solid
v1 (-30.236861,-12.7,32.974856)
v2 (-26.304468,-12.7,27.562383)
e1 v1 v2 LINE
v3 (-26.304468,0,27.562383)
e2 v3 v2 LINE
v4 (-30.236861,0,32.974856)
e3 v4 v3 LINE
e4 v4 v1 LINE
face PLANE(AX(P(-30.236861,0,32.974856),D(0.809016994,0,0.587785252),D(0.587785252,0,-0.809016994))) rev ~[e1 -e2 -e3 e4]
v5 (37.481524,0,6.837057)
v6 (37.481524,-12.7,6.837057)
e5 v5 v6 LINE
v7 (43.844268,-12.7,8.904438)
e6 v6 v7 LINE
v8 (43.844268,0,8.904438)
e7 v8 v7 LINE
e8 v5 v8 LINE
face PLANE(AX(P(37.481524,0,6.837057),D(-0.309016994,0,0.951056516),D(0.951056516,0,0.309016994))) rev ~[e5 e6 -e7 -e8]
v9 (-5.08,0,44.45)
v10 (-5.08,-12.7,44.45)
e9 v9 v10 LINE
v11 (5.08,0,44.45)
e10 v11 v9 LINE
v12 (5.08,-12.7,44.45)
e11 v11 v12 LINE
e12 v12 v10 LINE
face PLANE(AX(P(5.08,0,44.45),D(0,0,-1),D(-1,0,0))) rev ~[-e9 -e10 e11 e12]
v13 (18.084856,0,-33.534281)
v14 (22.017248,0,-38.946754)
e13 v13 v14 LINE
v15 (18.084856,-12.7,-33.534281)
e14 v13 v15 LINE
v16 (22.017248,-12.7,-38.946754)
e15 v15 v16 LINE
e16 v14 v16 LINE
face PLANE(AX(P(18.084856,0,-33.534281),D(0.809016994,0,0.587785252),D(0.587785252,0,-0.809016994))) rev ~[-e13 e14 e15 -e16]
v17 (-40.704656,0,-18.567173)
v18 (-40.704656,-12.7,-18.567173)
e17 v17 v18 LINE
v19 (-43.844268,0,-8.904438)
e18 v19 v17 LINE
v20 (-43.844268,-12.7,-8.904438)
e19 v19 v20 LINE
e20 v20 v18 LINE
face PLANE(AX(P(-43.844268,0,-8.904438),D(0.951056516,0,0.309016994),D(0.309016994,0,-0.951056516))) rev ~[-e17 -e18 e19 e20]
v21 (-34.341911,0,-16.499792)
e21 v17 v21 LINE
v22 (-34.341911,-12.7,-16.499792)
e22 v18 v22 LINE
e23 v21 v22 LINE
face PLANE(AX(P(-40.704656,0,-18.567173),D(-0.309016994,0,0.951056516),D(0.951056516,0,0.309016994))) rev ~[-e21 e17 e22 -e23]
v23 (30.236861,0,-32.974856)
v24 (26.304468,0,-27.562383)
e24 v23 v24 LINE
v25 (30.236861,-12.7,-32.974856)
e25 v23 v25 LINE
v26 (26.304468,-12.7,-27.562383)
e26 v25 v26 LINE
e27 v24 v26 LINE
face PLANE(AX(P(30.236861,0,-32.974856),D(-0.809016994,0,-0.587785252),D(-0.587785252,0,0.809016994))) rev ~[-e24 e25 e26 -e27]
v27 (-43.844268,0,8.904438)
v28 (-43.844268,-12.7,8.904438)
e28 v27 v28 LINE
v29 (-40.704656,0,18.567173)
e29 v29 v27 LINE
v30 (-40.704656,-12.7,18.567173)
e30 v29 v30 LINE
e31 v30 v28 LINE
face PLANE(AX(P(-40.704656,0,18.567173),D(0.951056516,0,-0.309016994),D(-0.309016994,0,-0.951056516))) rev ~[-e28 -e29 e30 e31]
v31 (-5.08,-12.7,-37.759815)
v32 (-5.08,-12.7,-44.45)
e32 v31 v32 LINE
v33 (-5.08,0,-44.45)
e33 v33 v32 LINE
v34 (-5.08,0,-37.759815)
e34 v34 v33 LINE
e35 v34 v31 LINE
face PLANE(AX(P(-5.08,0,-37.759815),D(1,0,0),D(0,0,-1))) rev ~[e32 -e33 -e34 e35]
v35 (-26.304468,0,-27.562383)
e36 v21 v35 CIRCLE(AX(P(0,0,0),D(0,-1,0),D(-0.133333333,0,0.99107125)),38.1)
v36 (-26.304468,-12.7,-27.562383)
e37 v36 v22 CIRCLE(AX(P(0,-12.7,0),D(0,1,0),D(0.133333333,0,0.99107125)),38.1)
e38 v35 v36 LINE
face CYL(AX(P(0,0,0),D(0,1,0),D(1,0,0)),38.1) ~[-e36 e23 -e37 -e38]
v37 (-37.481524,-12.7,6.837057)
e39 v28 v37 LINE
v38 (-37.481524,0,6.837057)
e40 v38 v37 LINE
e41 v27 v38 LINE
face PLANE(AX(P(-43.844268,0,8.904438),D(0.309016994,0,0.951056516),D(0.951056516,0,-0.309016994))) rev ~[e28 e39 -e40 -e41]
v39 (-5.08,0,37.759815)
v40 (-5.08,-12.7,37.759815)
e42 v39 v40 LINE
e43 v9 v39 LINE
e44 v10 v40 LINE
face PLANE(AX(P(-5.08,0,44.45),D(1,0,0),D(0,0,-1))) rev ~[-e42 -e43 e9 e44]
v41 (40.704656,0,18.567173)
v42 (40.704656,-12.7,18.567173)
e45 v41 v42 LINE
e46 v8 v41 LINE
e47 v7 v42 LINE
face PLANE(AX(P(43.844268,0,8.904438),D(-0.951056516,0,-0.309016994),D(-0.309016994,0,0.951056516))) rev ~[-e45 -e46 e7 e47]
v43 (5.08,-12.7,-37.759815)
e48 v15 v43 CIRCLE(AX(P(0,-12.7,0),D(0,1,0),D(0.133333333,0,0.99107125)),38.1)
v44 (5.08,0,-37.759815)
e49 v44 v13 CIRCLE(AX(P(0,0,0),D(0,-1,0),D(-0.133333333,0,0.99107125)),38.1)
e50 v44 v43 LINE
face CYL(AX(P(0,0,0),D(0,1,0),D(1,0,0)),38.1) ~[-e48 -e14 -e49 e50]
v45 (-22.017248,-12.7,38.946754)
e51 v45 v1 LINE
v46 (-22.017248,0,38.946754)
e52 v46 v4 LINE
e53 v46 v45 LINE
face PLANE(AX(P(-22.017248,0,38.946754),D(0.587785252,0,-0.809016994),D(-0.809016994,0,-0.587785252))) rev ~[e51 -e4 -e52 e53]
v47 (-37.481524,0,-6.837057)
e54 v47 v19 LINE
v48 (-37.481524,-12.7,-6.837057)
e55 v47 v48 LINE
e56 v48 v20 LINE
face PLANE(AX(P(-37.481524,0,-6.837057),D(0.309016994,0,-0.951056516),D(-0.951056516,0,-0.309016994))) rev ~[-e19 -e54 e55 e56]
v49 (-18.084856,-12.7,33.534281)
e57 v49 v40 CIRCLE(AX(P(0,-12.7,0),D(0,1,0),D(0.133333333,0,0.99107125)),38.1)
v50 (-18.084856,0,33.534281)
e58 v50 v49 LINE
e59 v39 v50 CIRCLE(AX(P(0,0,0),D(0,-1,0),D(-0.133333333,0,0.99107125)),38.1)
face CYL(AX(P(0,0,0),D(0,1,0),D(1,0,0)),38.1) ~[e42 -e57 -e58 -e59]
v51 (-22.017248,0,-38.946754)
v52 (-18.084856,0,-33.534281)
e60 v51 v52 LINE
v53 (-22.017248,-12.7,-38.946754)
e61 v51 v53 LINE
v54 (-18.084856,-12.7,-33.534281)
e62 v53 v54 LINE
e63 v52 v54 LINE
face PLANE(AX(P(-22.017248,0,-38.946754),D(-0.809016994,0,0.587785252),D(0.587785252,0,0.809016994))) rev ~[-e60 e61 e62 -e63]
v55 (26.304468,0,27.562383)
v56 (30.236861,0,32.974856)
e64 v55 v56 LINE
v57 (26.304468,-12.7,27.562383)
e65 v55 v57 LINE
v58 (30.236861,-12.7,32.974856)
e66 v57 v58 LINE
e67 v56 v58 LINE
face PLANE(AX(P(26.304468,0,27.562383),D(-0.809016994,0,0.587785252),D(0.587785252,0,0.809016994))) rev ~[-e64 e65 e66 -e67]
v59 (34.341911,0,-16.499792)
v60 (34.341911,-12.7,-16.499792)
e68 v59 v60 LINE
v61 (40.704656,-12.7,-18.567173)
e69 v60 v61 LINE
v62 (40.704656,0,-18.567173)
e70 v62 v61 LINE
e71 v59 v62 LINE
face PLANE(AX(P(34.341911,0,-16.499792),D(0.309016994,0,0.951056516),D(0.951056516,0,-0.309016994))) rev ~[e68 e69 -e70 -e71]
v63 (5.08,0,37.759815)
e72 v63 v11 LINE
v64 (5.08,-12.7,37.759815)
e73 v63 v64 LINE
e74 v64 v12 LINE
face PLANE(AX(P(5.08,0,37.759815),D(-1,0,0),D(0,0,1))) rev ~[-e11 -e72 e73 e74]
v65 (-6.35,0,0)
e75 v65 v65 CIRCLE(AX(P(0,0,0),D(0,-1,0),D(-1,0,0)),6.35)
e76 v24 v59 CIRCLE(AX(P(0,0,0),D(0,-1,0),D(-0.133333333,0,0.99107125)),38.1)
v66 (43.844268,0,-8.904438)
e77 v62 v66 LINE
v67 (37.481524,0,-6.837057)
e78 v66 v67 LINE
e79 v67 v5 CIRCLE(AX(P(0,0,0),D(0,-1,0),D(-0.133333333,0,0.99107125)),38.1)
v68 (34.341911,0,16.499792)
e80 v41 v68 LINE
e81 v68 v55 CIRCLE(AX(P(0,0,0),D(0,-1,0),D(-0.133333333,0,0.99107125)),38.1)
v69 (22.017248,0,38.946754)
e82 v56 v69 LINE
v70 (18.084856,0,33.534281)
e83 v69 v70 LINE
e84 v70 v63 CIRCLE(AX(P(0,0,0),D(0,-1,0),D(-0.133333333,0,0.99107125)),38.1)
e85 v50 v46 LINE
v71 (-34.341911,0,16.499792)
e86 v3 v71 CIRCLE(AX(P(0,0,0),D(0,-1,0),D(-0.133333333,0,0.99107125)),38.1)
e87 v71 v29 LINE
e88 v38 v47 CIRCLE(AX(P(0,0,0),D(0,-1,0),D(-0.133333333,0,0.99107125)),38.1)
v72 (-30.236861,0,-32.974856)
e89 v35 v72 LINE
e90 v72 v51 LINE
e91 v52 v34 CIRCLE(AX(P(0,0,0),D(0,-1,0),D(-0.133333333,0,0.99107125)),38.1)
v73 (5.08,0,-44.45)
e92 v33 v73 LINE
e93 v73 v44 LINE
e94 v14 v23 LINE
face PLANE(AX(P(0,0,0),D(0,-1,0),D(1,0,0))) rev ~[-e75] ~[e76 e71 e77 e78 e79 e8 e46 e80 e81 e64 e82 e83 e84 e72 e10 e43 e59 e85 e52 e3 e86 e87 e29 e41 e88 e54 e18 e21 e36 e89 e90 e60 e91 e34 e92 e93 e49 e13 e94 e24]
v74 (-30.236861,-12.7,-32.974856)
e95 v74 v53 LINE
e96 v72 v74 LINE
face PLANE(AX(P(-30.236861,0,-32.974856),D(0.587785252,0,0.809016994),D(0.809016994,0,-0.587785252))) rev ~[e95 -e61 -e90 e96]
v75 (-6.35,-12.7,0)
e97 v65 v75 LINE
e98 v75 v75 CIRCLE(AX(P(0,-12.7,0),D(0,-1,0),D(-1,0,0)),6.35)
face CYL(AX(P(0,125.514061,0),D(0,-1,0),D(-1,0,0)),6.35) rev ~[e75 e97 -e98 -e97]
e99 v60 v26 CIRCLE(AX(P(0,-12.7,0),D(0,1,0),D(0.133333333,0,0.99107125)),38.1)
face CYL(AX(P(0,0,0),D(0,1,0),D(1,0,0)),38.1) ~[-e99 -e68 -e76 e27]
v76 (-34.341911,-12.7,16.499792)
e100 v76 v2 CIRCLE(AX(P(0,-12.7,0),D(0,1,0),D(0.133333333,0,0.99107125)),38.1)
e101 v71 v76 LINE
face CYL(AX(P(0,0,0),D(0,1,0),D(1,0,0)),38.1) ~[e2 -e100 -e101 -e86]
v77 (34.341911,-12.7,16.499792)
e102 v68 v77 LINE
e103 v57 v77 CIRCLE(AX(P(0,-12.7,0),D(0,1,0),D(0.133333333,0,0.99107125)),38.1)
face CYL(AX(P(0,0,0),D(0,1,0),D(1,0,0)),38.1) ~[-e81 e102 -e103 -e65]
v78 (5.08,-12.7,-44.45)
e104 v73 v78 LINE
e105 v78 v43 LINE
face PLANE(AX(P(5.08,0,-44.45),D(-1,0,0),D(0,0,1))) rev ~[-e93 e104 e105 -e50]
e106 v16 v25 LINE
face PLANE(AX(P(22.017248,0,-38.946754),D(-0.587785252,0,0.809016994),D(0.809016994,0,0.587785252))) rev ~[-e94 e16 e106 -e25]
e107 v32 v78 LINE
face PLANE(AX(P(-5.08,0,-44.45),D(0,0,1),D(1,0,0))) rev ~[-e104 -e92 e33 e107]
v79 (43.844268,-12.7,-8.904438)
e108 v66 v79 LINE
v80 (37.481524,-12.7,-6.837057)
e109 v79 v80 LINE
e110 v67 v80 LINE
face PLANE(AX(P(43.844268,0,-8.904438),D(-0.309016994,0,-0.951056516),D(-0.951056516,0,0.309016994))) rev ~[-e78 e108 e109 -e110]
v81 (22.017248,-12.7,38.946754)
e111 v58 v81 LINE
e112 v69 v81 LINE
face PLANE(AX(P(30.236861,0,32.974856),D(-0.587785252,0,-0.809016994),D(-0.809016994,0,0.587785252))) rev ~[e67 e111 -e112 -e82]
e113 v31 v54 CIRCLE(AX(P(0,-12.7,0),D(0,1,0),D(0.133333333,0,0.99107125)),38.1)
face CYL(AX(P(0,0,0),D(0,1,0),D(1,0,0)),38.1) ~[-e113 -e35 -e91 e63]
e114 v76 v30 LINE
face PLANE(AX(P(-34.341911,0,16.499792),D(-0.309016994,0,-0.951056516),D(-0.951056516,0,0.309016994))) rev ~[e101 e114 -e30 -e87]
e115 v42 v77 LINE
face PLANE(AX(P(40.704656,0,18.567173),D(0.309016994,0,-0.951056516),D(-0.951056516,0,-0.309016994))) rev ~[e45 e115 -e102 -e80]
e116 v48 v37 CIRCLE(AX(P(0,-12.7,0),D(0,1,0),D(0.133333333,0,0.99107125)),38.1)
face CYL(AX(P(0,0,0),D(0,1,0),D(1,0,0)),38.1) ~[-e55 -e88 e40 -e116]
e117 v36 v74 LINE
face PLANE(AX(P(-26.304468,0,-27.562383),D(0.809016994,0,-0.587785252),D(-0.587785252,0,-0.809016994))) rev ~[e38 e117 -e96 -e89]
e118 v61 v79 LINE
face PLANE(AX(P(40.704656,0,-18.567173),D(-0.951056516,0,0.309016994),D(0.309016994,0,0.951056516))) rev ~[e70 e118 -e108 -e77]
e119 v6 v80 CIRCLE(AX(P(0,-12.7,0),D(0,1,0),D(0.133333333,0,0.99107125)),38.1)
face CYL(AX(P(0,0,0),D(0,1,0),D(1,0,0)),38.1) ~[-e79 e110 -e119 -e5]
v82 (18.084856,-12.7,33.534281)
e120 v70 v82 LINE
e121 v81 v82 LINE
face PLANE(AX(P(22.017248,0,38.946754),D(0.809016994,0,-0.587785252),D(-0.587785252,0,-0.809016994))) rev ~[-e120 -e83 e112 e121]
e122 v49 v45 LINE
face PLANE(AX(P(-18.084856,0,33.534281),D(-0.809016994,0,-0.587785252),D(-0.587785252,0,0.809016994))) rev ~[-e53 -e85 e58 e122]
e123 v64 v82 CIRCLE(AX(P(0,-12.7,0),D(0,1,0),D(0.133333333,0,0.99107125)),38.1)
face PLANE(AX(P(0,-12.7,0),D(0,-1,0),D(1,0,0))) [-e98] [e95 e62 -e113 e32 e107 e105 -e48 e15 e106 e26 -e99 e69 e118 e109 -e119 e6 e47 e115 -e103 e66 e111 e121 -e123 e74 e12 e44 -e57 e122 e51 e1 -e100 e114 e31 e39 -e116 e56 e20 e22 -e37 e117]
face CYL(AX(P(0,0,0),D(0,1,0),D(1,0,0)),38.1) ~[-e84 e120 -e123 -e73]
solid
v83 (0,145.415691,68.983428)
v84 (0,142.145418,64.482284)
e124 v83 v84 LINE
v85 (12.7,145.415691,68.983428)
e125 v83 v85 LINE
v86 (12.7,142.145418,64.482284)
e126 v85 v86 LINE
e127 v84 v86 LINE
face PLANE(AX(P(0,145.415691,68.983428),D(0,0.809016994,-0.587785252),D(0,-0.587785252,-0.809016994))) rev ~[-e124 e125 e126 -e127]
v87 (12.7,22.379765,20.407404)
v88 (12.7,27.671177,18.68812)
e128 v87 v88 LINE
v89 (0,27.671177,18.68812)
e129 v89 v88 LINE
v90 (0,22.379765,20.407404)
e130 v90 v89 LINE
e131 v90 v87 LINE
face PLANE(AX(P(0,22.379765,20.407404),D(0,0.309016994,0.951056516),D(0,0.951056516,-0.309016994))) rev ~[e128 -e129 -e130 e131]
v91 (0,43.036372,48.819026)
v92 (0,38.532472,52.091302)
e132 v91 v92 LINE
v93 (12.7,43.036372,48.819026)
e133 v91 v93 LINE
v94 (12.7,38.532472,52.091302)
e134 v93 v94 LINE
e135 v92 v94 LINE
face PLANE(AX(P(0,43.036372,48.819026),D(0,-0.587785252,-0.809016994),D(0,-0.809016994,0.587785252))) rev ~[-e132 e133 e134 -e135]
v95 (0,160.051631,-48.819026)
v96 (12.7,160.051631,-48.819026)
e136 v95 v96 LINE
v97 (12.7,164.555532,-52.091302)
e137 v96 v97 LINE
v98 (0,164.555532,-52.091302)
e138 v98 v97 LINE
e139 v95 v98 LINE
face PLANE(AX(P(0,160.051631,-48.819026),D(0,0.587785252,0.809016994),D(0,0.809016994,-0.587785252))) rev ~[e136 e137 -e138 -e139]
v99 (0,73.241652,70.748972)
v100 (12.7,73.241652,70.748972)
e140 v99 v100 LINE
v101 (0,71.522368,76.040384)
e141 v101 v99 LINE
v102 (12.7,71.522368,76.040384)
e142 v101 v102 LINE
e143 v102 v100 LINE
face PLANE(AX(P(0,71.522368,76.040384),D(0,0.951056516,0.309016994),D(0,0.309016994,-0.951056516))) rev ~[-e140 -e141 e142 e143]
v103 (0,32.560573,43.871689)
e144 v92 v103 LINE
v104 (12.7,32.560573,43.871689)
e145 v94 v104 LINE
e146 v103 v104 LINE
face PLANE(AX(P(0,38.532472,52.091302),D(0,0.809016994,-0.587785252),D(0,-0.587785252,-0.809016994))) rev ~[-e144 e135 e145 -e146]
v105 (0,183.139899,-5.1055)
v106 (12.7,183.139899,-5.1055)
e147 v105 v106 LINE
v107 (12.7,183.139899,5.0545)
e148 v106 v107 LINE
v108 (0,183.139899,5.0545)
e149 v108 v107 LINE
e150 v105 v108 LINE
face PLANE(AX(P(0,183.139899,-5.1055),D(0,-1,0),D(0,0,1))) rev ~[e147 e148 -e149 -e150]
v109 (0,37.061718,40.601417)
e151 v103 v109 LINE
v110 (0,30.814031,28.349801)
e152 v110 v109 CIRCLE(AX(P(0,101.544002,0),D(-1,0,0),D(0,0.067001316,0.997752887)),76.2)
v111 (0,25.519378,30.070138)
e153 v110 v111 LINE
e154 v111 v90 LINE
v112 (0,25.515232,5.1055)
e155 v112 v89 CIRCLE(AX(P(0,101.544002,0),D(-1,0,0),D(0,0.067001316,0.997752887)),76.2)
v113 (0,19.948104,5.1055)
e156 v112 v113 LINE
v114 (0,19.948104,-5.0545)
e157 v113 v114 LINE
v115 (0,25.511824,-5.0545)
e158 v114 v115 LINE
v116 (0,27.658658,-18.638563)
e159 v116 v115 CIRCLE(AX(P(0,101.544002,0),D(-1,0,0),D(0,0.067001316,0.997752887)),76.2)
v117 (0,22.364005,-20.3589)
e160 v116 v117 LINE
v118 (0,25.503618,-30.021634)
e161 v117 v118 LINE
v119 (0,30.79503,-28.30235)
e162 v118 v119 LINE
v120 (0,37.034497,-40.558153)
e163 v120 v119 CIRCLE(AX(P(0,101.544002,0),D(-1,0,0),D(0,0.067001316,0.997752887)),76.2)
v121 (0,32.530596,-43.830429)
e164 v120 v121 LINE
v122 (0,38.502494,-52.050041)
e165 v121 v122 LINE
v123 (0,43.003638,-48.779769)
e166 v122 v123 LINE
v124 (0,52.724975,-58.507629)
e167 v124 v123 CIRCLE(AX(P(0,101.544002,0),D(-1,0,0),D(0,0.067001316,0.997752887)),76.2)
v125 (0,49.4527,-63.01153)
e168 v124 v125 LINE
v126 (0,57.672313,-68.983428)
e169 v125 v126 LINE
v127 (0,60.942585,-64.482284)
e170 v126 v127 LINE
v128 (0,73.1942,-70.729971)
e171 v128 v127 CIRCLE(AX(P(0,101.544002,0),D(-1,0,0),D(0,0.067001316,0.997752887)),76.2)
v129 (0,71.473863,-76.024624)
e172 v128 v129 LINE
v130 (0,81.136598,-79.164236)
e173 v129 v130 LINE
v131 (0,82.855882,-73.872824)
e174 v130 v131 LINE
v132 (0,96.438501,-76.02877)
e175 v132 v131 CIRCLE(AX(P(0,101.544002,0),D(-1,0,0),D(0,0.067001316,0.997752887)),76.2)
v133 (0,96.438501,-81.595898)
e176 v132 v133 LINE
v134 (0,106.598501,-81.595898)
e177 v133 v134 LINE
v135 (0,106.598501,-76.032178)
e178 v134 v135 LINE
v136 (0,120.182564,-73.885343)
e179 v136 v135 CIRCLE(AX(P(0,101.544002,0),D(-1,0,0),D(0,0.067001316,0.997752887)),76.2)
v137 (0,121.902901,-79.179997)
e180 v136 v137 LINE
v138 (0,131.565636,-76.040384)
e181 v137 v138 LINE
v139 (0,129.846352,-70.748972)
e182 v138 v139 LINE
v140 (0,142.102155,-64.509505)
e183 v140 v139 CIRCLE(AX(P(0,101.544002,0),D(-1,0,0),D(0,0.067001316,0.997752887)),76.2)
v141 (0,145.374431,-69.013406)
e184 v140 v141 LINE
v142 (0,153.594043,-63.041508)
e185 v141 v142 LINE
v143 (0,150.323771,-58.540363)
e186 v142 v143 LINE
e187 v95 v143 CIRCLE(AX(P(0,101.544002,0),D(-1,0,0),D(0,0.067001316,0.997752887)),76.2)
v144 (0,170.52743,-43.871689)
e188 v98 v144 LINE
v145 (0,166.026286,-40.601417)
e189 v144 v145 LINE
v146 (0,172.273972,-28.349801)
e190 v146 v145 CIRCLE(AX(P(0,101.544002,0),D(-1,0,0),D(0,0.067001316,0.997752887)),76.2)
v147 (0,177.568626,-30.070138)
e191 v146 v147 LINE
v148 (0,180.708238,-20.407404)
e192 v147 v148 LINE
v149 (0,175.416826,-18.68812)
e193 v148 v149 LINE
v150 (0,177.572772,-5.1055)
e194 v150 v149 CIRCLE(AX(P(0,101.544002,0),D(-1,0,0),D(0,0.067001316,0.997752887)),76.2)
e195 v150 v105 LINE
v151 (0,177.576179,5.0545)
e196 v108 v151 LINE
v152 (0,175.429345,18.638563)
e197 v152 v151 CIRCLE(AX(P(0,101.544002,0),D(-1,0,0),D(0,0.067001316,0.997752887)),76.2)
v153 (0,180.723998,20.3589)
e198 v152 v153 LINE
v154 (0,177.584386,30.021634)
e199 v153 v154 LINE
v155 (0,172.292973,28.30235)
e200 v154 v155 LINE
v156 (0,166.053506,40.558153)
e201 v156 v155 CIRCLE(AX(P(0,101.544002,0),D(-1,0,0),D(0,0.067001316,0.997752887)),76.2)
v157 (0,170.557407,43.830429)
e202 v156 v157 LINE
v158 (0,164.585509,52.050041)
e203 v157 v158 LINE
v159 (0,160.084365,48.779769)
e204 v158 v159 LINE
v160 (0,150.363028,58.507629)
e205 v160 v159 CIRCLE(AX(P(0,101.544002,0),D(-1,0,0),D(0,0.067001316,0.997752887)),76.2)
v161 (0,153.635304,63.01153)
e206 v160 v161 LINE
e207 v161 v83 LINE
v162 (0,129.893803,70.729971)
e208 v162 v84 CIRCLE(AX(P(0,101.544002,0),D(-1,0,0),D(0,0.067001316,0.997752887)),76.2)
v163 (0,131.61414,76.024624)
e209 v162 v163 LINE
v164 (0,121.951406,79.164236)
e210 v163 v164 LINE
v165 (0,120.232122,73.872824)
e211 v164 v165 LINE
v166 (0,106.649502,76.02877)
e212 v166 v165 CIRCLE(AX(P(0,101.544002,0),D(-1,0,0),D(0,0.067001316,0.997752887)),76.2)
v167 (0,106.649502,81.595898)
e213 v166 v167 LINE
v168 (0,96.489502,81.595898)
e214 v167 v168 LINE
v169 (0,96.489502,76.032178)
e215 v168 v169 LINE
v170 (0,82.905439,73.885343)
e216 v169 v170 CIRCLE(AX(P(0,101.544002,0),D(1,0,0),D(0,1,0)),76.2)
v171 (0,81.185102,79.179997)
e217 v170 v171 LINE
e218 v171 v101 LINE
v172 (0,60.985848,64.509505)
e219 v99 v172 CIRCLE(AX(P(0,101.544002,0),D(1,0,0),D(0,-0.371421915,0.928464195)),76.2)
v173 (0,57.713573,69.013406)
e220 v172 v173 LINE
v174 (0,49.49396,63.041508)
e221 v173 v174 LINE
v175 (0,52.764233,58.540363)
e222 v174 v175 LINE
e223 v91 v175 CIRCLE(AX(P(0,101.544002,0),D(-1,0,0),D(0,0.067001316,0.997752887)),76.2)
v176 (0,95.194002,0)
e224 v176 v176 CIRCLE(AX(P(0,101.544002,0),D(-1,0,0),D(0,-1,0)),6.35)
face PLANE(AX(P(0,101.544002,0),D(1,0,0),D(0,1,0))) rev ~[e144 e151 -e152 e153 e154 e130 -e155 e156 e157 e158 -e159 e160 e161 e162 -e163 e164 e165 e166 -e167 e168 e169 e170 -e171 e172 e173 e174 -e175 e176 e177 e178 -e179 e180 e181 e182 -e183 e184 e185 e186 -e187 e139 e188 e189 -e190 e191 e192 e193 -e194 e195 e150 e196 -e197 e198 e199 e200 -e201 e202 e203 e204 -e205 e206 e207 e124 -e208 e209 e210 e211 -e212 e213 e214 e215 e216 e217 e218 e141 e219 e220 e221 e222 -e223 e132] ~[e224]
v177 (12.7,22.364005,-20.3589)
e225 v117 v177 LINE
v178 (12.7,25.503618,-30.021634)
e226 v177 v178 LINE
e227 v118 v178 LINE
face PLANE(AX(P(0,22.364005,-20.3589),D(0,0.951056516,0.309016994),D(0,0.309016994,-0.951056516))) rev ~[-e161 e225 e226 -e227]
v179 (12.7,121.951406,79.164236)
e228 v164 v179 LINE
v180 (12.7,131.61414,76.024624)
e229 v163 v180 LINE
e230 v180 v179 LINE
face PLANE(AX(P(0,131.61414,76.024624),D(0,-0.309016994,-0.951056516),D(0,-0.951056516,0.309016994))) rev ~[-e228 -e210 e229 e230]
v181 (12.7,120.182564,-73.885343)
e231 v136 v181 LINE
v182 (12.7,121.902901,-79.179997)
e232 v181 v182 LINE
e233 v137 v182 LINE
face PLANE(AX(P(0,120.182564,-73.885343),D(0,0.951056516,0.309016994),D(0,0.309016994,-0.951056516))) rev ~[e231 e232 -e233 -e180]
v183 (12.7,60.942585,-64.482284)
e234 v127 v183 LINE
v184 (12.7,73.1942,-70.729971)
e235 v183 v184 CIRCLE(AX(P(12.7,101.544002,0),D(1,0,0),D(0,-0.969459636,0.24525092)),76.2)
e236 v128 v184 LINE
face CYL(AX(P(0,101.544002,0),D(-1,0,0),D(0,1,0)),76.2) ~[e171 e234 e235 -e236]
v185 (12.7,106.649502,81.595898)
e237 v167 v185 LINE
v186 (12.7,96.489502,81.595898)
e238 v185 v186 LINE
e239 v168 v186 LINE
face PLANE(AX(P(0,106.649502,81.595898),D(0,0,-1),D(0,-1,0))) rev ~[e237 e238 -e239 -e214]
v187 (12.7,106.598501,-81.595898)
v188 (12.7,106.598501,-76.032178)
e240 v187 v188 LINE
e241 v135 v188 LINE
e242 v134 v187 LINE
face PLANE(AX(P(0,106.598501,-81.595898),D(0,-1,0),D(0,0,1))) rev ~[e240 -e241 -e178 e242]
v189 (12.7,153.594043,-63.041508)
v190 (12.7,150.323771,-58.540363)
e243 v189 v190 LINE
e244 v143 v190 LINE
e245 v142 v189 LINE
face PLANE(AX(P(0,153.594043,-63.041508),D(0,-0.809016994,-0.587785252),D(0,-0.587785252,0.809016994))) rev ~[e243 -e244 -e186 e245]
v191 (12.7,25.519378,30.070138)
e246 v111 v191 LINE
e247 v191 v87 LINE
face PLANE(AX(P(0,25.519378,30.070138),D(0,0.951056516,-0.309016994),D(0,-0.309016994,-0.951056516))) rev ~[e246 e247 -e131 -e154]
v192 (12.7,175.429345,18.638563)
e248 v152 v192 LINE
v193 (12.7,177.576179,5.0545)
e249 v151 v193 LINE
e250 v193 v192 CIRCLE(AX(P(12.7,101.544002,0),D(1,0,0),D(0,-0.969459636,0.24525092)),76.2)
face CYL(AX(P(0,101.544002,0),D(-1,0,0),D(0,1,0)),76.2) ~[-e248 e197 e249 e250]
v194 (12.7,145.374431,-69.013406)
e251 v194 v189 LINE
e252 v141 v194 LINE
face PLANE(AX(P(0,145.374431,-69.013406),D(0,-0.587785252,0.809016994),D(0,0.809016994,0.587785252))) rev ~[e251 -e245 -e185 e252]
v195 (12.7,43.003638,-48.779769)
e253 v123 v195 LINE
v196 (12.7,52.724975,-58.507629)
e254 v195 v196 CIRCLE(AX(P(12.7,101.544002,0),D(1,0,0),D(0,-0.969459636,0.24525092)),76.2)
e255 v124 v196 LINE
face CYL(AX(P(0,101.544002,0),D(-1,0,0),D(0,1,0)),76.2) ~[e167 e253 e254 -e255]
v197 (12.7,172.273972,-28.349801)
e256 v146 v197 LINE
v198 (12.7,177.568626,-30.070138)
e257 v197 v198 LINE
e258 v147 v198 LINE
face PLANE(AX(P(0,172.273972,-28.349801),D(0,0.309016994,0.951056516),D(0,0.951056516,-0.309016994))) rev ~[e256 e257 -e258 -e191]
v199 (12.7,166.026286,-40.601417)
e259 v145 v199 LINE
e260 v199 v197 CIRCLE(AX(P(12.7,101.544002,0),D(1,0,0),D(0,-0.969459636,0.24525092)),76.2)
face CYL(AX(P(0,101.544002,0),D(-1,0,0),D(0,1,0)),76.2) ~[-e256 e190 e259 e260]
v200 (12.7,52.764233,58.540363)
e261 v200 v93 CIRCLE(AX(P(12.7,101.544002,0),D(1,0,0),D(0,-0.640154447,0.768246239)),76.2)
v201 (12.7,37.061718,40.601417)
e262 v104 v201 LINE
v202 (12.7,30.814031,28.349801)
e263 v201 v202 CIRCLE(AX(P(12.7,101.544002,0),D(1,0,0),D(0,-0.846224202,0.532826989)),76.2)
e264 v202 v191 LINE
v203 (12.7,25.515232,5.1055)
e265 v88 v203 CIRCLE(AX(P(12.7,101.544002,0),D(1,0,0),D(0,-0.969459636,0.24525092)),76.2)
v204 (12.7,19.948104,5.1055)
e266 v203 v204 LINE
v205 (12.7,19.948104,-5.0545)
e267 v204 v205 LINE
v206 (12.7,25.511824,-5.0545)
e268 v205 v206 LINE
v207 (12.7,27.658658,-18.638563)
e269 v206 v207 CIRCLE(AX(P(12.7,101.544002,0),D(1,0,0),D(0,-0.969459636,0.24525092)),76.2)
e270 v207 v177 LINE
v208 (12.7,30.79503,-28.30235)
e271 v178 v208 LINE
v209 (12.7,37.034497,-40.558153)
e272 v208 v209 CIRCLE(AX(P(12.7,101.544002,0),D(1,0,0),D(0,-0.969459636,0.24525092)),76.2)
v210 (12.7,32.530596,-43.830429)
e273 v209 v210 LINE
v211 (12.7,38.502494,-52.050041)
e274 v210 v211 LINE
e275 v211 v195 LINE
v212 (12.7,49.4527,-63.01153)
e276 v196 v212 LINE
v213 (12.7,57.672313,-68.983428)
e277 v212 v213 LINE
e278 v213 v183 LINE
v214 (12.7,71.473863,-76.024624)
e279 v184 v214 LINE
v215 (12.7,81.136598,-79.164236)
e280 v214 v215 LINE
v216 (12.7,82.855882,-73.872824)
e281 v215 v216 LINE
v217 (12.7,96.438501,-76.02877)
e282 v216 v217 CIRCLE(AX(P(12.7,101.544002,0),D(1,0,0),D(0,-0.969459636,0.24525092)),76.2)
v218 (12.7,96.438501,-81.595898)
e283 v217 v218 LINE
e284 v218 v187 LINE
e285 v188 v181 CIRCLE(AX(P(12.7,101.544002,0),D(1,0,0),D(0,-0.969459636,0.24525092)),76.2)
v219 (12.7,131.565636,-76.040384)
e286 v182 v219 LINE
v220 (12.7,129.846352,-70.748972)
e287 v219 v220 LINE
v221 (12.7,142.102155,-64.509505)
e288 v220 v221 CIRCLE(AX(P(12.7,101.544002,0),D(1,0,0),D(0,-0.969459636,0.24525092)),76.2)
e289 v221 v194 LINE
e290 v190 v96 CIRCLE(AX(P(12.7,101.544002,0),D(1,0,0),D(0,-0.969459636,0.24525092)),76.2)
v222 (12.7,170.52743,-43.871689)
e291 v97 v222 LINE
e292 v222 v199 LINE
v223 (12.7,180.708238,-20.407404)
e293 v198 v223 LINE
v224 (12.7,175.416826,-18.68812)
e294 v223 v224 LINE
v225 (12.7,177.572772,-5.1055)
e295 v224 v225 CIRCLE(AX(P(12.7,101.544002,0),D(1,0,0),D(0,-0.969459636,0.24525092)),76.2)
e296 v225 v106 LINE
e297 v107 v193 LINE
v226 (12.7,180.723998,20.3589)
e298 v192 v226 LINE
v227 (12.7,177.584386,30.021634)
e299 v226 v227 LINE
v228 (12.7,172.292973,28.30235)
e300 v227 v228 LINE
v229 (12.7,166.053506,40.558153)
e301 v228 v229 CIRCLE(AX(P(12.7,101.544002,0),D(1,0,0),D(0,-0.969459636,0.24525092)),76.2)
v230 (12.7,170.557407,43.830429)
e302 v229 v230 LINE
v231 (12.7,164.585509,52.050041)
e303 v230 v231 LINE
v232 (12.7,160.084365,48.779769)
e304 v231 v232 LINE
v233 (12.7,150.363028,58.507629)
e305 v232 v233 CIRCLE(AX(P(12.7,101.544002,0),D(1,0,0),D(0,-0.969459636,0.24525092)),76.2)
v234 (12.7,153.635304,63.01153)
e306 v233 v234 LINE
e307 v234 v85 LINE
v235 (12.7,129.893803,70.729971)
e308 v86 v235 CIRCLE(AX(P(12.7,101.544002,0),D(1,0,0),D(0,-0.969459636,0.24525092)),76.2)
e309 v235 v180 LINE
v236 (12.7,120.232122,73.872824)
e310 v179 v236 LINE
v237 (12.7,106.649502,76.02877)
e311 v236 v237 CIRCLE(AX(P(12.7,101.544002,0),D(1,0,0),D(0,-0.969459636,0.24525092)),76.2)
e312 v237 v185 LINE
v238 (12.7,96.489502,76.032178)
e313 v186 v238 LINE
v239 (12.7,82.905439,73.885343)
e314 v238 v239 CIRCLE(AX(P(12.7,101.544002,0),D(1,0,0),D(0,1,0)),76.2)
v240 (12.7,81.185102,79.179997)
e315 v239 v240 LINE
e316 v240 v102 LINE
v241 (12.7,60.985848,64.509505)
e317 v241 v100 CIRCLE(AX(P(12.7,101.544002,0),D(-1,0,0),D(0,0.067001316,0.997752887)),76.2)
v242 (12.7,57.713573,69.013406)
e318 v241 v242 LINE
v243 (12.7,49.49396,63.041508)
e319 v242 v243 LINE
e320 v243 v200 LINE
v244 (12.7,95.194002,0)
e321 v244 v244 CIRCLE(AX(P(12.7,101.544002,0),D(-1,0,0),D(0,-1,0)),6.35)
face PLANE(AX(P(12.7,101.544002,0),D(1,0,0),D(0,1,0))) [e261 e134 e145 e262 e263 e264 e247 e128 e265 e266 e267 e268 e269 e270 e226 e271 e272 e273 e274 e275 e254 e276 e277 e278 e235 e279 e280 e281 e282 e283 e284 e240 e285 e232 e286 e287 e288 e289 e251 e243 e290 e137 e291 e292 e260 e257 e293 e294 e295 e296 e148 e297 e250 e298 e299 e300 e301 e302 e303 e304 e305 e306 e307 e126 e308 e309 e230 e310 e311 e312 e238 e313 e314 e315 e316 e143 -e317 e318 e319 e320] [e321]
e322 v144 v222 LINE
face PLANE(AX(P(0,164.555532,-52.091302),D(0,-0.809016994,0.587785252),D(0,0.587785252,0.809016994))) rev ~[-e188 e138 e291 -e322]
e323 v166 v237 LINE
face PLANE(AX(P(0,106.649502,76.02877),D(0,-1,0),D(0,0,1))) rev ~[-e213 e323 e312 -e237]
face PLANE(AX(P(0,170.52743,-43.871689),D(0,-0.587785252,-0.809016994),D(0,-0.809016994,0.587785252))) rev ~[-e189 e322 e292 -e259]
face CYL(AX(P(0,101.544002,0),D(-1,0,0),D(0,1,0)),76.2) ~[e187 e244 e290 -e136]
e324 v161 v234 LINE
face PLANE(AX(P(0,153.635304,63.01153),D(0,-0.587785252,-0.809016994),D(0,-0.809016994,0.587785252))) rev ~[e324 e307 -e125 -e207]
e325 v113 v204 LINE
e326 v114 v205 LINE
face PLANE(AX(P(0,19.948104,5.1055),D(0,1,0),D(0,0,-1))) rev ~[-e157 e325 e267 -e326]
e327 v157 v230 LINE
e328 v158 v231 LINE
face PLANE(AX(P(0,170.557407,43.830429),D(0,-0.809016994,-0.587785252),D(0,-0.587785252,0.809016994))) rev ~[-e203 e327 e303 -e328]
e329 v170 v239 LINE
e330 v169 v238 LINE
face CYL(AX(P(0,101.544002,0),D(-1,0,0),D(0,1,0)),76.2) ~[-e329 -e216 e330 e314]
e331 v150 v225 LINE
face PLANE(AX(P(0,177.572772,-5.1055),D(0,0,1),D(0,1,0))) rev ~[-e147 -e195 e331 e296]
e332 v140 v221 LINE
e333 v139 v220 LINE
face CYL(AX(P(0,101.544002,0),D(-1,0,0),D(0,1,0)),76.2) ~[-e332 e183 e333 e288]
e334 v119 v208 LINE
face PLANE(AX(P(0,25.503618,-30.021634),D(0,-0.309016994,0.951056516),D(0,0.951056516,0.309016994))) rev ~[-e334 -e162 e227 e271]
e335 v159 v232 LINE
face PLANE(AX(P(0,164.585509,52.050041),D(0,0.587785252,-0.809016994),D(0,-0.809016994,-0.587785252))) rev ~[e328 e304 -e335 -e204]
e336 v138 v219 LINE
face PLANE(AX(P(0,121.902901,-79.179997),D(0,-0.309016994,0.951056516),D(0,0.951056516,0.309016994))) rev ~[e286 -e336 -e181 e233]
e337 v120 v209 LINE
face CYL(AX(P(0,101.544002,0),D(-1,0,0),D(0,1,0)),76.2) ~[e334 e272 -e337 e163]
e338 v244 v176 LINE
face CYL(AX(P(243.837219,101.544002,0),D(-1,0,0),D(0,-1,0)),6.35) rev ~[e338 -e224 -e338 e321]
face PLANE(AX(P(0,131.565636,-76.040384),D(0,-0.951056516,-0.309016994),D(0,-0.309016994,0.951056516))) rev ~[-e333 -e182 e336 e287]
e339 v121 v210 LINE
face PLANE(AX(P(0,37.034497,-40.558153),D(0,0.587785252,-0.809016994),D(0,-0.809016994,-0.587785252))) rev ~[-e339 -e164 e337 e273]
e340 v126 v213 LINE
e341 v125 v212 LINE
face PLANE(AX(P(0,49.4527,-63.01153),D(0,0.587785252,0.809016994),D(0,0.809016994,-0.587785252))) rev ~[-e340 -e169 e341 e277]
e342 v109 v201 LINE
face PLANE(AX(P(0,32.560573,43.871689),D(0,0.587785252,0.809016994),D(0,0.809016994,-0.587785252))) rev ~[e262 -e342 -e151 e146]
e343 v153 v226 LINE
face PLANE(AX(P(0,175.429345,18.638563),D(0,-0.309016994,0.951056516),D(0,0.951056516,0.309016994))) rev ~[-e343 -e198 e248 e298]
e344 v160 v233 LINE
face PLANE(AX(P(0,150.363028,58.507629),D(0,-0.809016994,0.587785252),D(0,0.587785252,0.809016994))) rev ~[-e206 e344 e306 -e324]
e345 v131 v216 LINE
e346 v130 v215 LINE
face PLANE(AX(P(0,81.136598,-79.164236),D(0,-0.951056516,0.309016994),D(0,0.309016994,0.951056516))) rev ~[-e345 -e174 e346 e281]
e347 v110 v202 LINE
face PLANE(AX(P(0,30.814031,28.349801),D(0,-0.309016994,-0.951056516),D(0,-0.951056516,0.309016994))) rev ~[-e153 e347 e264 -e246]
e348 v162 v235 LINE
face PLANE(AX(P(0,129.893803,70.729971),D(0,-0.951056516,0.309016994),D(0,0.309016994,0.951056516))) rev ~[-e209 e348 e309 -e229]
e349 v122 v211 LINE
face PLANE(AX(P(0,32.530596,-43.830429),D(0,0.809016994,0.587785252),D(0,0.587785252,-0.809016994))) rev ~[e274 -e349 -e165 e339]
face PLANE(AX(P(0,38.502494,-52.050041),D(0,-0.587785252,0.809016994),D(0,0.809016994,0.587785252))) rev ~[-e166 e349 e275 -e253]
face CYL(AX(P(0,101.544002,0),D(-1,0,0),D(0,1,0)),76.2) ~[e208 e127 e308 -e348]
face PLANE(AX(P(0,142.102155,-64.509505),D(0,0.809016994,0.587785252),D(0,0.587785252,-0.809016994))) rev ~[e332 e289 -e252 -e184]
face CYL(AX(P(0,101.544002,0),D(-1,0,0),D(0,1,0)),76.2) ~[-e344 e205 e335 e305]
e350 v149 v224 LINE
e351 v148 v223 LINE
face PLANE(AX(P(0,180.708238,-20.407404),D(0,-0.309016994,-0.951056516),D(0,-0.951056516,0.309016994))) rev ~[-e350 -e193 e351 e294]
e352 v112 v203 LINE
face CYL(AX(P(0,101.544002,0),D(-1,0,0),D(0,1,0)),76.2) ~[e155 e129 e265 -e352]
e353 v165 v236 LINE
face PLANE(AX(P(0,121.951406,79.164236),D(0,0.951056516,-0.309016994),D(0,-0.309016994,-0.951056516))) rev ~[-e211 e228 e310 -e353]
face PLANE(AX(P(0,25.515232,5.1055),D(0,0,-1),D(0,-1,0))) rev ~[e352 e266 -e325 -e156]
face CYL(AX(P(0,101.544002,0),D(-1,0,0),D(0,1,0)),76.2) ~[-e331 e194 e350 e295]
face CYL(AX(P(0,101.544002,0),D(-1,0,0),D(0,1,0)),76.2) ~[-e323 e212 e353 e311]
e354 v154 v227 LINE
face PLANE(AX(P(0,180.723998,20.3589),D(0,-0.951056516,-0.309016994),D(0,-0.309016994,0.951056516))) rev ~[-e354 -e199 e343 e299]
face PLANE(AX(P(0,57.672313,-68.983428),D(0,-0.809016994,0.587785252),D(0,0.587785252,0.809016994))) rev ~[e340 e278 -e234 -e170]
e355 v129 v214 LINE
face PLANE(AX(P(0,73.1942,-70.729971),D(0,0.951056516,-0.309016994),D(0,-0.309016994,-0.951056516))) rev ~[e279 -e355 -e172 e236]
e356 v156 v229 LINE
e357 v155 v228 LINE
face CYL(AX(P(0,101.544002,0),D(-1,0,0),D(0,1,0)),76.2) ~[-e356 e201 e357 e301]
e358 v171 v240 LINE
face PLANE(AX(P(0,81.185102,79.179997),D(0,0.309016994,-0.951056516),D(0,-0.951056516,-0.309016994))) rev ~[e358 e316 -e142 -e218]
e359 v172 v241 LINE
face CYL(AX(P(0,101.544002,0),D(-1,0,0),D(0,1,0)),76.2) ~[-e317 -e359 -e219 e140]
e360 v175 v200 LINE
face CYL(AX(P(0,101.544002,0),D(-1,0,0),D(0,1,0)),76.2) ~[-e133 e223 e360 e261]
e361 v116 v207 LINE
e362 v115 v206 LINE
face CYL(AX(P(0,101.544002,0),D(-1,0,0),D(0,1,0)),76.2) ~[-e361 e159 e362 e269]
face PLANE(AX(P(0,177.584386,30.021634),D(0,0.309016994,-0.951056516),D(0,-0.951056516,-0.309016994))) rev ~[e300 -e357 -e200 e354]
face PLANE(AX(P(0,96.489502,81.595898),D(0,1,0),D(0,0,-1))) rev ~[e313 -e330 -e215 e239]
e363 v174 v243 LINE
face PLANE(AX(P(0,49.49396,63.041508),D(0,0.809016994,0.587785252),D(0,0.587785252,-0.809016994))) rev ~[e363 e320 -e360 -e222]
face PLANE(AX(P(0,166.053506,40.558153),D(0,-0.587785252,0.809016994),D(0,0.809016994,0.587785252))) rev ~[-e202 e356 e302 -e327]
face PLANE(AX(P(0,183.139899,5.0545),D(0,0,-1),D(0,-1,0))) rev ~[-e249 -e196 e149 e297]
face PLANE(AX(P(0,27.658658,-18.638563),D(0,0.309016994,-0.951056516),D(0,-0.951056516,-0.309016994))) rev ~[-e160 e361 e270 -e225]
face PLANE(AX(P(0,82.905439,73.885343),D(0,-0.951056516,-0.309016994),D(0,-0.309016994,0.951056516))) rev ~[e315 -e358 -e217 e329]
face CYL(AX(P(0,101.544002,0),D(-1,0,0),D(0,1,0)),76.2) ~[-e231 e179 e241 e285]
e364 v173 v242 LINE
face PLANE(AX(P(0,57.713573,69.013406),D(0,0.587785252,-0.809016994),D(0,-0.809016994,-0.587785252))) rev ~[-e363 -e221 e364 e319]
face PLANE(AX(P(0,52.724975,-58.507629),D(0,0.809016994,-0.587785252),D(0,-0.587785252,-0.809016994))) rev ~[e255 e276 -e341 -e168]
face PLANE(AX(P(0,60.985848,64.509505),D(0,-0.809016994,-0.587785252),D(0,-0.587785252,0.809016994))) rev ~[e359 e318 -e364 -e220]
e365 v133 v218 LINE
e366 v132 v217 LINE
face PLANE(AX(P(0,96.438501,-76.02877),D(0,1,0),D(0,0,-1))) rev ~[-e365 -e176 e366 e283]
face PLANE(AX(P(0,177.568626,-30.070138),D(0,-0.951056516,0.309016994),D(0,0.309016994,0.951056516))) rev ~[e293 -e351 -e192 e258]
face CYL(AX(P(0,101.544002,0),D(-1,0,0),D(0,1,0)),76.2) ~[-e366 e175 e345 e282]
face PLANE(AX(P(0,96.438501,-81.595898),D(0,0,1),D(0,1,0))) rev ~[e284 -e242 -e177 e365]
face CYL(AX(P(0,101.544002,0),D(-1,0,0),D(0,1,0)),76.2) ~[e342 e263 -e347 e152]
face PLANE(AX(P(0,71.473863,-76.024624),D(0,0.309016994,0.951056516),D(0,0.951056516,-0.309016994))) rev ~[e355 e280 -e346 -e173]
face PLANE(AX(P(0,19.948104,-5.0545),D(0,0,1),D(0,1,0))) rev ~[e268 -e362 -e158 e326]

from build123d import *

# Parameters (mm, degrees)
F0_R     = 38.1
F2_DEPTH = 12.7
F3_COUNT = 10
F4_D     = 12.7
F5_R     = 76.2
F7_DEPTH = 12.7
F8_COUNT = 20
F11_D    = 12.7


with BuildPart() as f2:
    # F0 (on Front) + F1 (on face) → F2 (new body)
    with BuildSketch(Plane.XZ):
        Circle(F0_R)
    with BuildSketch(Plane.XZ):
        with BuildLine():
            Line((-5.08, 44.45), (-5.08, 37.7598146182))
            ThreePointArc((-5.08, 37.7598146182), (0, 38.1), (5.08, 37.7598146182))
            Line((5.08, 37.7598146182), (5.08, 44.45))
            Line((5.08, 44.45), (-5.08, 44.45))
        make_face()
    extrude(amount=F2_DEPTH)

    # F3: F2 ×10 about axis
    f3_axis = Axis((0, 0, 0), (0, -1, 0))


with BuildPart() as f2_1:
    add(f2.part)
    for i in range(1, F3_COUNT):
        add(f2.part.rotate(f3_axis, i * 360 / F3_COUNT))

    # F4 (through all)
    with Locations(Plane(origin=(0, 0, 0), x_dir=(1, 0, 0), z_dir=(0, 1, 0))):
        with Locations((0, 0)):
            Hole(F4_D / 2)


with BuildPart() as f7:
    # F5 (on Right) + F6 (on face) → F7 (new body)
    with BuildSketch(Plane.YZ):
        with Locations((101.5440017082, 0)):
            Circle(F5_R)
    with BuildSketch(Plane.YZ):
        with BuildLine():
            Line((96.4895019979, 81.5958976746), (96.4895019979, 76.0321776137))
            ThreePointArc((96.4895019979, 76.0321776137), (101.5695588549, 76.1999957141), (106.6495019979, 76.0287699939))
            Line((106.6495019979, 76.0287699939), (106.6495019979, 81.5958976746))
            Line((106.6495019979, 81.5958976746), (96.4895019979, 81.5958976746))
        make_face()
    extrude(amount=F7_DEPTH)

    # F8: F7 ×20 about axis
    f8_axis = Axis((12.7, 101.5440017082, 0), (1, 0, 0))


with BuildPart() as f7_1:
    add(f7.part)
    for i in range(1, F8_COUNT):
        add(f7.part.rotate(f8_axis, i * 360 / F8_COUNT))

    # F9: union 

    # F11 (through all)
    with Locations(Plane.YZ.offset(12.7)):
        with Locations((101.5440017082, 0)):
            Hole(F11_D / 2)


solid = Compound([f2_1.part, f7_1.part])
